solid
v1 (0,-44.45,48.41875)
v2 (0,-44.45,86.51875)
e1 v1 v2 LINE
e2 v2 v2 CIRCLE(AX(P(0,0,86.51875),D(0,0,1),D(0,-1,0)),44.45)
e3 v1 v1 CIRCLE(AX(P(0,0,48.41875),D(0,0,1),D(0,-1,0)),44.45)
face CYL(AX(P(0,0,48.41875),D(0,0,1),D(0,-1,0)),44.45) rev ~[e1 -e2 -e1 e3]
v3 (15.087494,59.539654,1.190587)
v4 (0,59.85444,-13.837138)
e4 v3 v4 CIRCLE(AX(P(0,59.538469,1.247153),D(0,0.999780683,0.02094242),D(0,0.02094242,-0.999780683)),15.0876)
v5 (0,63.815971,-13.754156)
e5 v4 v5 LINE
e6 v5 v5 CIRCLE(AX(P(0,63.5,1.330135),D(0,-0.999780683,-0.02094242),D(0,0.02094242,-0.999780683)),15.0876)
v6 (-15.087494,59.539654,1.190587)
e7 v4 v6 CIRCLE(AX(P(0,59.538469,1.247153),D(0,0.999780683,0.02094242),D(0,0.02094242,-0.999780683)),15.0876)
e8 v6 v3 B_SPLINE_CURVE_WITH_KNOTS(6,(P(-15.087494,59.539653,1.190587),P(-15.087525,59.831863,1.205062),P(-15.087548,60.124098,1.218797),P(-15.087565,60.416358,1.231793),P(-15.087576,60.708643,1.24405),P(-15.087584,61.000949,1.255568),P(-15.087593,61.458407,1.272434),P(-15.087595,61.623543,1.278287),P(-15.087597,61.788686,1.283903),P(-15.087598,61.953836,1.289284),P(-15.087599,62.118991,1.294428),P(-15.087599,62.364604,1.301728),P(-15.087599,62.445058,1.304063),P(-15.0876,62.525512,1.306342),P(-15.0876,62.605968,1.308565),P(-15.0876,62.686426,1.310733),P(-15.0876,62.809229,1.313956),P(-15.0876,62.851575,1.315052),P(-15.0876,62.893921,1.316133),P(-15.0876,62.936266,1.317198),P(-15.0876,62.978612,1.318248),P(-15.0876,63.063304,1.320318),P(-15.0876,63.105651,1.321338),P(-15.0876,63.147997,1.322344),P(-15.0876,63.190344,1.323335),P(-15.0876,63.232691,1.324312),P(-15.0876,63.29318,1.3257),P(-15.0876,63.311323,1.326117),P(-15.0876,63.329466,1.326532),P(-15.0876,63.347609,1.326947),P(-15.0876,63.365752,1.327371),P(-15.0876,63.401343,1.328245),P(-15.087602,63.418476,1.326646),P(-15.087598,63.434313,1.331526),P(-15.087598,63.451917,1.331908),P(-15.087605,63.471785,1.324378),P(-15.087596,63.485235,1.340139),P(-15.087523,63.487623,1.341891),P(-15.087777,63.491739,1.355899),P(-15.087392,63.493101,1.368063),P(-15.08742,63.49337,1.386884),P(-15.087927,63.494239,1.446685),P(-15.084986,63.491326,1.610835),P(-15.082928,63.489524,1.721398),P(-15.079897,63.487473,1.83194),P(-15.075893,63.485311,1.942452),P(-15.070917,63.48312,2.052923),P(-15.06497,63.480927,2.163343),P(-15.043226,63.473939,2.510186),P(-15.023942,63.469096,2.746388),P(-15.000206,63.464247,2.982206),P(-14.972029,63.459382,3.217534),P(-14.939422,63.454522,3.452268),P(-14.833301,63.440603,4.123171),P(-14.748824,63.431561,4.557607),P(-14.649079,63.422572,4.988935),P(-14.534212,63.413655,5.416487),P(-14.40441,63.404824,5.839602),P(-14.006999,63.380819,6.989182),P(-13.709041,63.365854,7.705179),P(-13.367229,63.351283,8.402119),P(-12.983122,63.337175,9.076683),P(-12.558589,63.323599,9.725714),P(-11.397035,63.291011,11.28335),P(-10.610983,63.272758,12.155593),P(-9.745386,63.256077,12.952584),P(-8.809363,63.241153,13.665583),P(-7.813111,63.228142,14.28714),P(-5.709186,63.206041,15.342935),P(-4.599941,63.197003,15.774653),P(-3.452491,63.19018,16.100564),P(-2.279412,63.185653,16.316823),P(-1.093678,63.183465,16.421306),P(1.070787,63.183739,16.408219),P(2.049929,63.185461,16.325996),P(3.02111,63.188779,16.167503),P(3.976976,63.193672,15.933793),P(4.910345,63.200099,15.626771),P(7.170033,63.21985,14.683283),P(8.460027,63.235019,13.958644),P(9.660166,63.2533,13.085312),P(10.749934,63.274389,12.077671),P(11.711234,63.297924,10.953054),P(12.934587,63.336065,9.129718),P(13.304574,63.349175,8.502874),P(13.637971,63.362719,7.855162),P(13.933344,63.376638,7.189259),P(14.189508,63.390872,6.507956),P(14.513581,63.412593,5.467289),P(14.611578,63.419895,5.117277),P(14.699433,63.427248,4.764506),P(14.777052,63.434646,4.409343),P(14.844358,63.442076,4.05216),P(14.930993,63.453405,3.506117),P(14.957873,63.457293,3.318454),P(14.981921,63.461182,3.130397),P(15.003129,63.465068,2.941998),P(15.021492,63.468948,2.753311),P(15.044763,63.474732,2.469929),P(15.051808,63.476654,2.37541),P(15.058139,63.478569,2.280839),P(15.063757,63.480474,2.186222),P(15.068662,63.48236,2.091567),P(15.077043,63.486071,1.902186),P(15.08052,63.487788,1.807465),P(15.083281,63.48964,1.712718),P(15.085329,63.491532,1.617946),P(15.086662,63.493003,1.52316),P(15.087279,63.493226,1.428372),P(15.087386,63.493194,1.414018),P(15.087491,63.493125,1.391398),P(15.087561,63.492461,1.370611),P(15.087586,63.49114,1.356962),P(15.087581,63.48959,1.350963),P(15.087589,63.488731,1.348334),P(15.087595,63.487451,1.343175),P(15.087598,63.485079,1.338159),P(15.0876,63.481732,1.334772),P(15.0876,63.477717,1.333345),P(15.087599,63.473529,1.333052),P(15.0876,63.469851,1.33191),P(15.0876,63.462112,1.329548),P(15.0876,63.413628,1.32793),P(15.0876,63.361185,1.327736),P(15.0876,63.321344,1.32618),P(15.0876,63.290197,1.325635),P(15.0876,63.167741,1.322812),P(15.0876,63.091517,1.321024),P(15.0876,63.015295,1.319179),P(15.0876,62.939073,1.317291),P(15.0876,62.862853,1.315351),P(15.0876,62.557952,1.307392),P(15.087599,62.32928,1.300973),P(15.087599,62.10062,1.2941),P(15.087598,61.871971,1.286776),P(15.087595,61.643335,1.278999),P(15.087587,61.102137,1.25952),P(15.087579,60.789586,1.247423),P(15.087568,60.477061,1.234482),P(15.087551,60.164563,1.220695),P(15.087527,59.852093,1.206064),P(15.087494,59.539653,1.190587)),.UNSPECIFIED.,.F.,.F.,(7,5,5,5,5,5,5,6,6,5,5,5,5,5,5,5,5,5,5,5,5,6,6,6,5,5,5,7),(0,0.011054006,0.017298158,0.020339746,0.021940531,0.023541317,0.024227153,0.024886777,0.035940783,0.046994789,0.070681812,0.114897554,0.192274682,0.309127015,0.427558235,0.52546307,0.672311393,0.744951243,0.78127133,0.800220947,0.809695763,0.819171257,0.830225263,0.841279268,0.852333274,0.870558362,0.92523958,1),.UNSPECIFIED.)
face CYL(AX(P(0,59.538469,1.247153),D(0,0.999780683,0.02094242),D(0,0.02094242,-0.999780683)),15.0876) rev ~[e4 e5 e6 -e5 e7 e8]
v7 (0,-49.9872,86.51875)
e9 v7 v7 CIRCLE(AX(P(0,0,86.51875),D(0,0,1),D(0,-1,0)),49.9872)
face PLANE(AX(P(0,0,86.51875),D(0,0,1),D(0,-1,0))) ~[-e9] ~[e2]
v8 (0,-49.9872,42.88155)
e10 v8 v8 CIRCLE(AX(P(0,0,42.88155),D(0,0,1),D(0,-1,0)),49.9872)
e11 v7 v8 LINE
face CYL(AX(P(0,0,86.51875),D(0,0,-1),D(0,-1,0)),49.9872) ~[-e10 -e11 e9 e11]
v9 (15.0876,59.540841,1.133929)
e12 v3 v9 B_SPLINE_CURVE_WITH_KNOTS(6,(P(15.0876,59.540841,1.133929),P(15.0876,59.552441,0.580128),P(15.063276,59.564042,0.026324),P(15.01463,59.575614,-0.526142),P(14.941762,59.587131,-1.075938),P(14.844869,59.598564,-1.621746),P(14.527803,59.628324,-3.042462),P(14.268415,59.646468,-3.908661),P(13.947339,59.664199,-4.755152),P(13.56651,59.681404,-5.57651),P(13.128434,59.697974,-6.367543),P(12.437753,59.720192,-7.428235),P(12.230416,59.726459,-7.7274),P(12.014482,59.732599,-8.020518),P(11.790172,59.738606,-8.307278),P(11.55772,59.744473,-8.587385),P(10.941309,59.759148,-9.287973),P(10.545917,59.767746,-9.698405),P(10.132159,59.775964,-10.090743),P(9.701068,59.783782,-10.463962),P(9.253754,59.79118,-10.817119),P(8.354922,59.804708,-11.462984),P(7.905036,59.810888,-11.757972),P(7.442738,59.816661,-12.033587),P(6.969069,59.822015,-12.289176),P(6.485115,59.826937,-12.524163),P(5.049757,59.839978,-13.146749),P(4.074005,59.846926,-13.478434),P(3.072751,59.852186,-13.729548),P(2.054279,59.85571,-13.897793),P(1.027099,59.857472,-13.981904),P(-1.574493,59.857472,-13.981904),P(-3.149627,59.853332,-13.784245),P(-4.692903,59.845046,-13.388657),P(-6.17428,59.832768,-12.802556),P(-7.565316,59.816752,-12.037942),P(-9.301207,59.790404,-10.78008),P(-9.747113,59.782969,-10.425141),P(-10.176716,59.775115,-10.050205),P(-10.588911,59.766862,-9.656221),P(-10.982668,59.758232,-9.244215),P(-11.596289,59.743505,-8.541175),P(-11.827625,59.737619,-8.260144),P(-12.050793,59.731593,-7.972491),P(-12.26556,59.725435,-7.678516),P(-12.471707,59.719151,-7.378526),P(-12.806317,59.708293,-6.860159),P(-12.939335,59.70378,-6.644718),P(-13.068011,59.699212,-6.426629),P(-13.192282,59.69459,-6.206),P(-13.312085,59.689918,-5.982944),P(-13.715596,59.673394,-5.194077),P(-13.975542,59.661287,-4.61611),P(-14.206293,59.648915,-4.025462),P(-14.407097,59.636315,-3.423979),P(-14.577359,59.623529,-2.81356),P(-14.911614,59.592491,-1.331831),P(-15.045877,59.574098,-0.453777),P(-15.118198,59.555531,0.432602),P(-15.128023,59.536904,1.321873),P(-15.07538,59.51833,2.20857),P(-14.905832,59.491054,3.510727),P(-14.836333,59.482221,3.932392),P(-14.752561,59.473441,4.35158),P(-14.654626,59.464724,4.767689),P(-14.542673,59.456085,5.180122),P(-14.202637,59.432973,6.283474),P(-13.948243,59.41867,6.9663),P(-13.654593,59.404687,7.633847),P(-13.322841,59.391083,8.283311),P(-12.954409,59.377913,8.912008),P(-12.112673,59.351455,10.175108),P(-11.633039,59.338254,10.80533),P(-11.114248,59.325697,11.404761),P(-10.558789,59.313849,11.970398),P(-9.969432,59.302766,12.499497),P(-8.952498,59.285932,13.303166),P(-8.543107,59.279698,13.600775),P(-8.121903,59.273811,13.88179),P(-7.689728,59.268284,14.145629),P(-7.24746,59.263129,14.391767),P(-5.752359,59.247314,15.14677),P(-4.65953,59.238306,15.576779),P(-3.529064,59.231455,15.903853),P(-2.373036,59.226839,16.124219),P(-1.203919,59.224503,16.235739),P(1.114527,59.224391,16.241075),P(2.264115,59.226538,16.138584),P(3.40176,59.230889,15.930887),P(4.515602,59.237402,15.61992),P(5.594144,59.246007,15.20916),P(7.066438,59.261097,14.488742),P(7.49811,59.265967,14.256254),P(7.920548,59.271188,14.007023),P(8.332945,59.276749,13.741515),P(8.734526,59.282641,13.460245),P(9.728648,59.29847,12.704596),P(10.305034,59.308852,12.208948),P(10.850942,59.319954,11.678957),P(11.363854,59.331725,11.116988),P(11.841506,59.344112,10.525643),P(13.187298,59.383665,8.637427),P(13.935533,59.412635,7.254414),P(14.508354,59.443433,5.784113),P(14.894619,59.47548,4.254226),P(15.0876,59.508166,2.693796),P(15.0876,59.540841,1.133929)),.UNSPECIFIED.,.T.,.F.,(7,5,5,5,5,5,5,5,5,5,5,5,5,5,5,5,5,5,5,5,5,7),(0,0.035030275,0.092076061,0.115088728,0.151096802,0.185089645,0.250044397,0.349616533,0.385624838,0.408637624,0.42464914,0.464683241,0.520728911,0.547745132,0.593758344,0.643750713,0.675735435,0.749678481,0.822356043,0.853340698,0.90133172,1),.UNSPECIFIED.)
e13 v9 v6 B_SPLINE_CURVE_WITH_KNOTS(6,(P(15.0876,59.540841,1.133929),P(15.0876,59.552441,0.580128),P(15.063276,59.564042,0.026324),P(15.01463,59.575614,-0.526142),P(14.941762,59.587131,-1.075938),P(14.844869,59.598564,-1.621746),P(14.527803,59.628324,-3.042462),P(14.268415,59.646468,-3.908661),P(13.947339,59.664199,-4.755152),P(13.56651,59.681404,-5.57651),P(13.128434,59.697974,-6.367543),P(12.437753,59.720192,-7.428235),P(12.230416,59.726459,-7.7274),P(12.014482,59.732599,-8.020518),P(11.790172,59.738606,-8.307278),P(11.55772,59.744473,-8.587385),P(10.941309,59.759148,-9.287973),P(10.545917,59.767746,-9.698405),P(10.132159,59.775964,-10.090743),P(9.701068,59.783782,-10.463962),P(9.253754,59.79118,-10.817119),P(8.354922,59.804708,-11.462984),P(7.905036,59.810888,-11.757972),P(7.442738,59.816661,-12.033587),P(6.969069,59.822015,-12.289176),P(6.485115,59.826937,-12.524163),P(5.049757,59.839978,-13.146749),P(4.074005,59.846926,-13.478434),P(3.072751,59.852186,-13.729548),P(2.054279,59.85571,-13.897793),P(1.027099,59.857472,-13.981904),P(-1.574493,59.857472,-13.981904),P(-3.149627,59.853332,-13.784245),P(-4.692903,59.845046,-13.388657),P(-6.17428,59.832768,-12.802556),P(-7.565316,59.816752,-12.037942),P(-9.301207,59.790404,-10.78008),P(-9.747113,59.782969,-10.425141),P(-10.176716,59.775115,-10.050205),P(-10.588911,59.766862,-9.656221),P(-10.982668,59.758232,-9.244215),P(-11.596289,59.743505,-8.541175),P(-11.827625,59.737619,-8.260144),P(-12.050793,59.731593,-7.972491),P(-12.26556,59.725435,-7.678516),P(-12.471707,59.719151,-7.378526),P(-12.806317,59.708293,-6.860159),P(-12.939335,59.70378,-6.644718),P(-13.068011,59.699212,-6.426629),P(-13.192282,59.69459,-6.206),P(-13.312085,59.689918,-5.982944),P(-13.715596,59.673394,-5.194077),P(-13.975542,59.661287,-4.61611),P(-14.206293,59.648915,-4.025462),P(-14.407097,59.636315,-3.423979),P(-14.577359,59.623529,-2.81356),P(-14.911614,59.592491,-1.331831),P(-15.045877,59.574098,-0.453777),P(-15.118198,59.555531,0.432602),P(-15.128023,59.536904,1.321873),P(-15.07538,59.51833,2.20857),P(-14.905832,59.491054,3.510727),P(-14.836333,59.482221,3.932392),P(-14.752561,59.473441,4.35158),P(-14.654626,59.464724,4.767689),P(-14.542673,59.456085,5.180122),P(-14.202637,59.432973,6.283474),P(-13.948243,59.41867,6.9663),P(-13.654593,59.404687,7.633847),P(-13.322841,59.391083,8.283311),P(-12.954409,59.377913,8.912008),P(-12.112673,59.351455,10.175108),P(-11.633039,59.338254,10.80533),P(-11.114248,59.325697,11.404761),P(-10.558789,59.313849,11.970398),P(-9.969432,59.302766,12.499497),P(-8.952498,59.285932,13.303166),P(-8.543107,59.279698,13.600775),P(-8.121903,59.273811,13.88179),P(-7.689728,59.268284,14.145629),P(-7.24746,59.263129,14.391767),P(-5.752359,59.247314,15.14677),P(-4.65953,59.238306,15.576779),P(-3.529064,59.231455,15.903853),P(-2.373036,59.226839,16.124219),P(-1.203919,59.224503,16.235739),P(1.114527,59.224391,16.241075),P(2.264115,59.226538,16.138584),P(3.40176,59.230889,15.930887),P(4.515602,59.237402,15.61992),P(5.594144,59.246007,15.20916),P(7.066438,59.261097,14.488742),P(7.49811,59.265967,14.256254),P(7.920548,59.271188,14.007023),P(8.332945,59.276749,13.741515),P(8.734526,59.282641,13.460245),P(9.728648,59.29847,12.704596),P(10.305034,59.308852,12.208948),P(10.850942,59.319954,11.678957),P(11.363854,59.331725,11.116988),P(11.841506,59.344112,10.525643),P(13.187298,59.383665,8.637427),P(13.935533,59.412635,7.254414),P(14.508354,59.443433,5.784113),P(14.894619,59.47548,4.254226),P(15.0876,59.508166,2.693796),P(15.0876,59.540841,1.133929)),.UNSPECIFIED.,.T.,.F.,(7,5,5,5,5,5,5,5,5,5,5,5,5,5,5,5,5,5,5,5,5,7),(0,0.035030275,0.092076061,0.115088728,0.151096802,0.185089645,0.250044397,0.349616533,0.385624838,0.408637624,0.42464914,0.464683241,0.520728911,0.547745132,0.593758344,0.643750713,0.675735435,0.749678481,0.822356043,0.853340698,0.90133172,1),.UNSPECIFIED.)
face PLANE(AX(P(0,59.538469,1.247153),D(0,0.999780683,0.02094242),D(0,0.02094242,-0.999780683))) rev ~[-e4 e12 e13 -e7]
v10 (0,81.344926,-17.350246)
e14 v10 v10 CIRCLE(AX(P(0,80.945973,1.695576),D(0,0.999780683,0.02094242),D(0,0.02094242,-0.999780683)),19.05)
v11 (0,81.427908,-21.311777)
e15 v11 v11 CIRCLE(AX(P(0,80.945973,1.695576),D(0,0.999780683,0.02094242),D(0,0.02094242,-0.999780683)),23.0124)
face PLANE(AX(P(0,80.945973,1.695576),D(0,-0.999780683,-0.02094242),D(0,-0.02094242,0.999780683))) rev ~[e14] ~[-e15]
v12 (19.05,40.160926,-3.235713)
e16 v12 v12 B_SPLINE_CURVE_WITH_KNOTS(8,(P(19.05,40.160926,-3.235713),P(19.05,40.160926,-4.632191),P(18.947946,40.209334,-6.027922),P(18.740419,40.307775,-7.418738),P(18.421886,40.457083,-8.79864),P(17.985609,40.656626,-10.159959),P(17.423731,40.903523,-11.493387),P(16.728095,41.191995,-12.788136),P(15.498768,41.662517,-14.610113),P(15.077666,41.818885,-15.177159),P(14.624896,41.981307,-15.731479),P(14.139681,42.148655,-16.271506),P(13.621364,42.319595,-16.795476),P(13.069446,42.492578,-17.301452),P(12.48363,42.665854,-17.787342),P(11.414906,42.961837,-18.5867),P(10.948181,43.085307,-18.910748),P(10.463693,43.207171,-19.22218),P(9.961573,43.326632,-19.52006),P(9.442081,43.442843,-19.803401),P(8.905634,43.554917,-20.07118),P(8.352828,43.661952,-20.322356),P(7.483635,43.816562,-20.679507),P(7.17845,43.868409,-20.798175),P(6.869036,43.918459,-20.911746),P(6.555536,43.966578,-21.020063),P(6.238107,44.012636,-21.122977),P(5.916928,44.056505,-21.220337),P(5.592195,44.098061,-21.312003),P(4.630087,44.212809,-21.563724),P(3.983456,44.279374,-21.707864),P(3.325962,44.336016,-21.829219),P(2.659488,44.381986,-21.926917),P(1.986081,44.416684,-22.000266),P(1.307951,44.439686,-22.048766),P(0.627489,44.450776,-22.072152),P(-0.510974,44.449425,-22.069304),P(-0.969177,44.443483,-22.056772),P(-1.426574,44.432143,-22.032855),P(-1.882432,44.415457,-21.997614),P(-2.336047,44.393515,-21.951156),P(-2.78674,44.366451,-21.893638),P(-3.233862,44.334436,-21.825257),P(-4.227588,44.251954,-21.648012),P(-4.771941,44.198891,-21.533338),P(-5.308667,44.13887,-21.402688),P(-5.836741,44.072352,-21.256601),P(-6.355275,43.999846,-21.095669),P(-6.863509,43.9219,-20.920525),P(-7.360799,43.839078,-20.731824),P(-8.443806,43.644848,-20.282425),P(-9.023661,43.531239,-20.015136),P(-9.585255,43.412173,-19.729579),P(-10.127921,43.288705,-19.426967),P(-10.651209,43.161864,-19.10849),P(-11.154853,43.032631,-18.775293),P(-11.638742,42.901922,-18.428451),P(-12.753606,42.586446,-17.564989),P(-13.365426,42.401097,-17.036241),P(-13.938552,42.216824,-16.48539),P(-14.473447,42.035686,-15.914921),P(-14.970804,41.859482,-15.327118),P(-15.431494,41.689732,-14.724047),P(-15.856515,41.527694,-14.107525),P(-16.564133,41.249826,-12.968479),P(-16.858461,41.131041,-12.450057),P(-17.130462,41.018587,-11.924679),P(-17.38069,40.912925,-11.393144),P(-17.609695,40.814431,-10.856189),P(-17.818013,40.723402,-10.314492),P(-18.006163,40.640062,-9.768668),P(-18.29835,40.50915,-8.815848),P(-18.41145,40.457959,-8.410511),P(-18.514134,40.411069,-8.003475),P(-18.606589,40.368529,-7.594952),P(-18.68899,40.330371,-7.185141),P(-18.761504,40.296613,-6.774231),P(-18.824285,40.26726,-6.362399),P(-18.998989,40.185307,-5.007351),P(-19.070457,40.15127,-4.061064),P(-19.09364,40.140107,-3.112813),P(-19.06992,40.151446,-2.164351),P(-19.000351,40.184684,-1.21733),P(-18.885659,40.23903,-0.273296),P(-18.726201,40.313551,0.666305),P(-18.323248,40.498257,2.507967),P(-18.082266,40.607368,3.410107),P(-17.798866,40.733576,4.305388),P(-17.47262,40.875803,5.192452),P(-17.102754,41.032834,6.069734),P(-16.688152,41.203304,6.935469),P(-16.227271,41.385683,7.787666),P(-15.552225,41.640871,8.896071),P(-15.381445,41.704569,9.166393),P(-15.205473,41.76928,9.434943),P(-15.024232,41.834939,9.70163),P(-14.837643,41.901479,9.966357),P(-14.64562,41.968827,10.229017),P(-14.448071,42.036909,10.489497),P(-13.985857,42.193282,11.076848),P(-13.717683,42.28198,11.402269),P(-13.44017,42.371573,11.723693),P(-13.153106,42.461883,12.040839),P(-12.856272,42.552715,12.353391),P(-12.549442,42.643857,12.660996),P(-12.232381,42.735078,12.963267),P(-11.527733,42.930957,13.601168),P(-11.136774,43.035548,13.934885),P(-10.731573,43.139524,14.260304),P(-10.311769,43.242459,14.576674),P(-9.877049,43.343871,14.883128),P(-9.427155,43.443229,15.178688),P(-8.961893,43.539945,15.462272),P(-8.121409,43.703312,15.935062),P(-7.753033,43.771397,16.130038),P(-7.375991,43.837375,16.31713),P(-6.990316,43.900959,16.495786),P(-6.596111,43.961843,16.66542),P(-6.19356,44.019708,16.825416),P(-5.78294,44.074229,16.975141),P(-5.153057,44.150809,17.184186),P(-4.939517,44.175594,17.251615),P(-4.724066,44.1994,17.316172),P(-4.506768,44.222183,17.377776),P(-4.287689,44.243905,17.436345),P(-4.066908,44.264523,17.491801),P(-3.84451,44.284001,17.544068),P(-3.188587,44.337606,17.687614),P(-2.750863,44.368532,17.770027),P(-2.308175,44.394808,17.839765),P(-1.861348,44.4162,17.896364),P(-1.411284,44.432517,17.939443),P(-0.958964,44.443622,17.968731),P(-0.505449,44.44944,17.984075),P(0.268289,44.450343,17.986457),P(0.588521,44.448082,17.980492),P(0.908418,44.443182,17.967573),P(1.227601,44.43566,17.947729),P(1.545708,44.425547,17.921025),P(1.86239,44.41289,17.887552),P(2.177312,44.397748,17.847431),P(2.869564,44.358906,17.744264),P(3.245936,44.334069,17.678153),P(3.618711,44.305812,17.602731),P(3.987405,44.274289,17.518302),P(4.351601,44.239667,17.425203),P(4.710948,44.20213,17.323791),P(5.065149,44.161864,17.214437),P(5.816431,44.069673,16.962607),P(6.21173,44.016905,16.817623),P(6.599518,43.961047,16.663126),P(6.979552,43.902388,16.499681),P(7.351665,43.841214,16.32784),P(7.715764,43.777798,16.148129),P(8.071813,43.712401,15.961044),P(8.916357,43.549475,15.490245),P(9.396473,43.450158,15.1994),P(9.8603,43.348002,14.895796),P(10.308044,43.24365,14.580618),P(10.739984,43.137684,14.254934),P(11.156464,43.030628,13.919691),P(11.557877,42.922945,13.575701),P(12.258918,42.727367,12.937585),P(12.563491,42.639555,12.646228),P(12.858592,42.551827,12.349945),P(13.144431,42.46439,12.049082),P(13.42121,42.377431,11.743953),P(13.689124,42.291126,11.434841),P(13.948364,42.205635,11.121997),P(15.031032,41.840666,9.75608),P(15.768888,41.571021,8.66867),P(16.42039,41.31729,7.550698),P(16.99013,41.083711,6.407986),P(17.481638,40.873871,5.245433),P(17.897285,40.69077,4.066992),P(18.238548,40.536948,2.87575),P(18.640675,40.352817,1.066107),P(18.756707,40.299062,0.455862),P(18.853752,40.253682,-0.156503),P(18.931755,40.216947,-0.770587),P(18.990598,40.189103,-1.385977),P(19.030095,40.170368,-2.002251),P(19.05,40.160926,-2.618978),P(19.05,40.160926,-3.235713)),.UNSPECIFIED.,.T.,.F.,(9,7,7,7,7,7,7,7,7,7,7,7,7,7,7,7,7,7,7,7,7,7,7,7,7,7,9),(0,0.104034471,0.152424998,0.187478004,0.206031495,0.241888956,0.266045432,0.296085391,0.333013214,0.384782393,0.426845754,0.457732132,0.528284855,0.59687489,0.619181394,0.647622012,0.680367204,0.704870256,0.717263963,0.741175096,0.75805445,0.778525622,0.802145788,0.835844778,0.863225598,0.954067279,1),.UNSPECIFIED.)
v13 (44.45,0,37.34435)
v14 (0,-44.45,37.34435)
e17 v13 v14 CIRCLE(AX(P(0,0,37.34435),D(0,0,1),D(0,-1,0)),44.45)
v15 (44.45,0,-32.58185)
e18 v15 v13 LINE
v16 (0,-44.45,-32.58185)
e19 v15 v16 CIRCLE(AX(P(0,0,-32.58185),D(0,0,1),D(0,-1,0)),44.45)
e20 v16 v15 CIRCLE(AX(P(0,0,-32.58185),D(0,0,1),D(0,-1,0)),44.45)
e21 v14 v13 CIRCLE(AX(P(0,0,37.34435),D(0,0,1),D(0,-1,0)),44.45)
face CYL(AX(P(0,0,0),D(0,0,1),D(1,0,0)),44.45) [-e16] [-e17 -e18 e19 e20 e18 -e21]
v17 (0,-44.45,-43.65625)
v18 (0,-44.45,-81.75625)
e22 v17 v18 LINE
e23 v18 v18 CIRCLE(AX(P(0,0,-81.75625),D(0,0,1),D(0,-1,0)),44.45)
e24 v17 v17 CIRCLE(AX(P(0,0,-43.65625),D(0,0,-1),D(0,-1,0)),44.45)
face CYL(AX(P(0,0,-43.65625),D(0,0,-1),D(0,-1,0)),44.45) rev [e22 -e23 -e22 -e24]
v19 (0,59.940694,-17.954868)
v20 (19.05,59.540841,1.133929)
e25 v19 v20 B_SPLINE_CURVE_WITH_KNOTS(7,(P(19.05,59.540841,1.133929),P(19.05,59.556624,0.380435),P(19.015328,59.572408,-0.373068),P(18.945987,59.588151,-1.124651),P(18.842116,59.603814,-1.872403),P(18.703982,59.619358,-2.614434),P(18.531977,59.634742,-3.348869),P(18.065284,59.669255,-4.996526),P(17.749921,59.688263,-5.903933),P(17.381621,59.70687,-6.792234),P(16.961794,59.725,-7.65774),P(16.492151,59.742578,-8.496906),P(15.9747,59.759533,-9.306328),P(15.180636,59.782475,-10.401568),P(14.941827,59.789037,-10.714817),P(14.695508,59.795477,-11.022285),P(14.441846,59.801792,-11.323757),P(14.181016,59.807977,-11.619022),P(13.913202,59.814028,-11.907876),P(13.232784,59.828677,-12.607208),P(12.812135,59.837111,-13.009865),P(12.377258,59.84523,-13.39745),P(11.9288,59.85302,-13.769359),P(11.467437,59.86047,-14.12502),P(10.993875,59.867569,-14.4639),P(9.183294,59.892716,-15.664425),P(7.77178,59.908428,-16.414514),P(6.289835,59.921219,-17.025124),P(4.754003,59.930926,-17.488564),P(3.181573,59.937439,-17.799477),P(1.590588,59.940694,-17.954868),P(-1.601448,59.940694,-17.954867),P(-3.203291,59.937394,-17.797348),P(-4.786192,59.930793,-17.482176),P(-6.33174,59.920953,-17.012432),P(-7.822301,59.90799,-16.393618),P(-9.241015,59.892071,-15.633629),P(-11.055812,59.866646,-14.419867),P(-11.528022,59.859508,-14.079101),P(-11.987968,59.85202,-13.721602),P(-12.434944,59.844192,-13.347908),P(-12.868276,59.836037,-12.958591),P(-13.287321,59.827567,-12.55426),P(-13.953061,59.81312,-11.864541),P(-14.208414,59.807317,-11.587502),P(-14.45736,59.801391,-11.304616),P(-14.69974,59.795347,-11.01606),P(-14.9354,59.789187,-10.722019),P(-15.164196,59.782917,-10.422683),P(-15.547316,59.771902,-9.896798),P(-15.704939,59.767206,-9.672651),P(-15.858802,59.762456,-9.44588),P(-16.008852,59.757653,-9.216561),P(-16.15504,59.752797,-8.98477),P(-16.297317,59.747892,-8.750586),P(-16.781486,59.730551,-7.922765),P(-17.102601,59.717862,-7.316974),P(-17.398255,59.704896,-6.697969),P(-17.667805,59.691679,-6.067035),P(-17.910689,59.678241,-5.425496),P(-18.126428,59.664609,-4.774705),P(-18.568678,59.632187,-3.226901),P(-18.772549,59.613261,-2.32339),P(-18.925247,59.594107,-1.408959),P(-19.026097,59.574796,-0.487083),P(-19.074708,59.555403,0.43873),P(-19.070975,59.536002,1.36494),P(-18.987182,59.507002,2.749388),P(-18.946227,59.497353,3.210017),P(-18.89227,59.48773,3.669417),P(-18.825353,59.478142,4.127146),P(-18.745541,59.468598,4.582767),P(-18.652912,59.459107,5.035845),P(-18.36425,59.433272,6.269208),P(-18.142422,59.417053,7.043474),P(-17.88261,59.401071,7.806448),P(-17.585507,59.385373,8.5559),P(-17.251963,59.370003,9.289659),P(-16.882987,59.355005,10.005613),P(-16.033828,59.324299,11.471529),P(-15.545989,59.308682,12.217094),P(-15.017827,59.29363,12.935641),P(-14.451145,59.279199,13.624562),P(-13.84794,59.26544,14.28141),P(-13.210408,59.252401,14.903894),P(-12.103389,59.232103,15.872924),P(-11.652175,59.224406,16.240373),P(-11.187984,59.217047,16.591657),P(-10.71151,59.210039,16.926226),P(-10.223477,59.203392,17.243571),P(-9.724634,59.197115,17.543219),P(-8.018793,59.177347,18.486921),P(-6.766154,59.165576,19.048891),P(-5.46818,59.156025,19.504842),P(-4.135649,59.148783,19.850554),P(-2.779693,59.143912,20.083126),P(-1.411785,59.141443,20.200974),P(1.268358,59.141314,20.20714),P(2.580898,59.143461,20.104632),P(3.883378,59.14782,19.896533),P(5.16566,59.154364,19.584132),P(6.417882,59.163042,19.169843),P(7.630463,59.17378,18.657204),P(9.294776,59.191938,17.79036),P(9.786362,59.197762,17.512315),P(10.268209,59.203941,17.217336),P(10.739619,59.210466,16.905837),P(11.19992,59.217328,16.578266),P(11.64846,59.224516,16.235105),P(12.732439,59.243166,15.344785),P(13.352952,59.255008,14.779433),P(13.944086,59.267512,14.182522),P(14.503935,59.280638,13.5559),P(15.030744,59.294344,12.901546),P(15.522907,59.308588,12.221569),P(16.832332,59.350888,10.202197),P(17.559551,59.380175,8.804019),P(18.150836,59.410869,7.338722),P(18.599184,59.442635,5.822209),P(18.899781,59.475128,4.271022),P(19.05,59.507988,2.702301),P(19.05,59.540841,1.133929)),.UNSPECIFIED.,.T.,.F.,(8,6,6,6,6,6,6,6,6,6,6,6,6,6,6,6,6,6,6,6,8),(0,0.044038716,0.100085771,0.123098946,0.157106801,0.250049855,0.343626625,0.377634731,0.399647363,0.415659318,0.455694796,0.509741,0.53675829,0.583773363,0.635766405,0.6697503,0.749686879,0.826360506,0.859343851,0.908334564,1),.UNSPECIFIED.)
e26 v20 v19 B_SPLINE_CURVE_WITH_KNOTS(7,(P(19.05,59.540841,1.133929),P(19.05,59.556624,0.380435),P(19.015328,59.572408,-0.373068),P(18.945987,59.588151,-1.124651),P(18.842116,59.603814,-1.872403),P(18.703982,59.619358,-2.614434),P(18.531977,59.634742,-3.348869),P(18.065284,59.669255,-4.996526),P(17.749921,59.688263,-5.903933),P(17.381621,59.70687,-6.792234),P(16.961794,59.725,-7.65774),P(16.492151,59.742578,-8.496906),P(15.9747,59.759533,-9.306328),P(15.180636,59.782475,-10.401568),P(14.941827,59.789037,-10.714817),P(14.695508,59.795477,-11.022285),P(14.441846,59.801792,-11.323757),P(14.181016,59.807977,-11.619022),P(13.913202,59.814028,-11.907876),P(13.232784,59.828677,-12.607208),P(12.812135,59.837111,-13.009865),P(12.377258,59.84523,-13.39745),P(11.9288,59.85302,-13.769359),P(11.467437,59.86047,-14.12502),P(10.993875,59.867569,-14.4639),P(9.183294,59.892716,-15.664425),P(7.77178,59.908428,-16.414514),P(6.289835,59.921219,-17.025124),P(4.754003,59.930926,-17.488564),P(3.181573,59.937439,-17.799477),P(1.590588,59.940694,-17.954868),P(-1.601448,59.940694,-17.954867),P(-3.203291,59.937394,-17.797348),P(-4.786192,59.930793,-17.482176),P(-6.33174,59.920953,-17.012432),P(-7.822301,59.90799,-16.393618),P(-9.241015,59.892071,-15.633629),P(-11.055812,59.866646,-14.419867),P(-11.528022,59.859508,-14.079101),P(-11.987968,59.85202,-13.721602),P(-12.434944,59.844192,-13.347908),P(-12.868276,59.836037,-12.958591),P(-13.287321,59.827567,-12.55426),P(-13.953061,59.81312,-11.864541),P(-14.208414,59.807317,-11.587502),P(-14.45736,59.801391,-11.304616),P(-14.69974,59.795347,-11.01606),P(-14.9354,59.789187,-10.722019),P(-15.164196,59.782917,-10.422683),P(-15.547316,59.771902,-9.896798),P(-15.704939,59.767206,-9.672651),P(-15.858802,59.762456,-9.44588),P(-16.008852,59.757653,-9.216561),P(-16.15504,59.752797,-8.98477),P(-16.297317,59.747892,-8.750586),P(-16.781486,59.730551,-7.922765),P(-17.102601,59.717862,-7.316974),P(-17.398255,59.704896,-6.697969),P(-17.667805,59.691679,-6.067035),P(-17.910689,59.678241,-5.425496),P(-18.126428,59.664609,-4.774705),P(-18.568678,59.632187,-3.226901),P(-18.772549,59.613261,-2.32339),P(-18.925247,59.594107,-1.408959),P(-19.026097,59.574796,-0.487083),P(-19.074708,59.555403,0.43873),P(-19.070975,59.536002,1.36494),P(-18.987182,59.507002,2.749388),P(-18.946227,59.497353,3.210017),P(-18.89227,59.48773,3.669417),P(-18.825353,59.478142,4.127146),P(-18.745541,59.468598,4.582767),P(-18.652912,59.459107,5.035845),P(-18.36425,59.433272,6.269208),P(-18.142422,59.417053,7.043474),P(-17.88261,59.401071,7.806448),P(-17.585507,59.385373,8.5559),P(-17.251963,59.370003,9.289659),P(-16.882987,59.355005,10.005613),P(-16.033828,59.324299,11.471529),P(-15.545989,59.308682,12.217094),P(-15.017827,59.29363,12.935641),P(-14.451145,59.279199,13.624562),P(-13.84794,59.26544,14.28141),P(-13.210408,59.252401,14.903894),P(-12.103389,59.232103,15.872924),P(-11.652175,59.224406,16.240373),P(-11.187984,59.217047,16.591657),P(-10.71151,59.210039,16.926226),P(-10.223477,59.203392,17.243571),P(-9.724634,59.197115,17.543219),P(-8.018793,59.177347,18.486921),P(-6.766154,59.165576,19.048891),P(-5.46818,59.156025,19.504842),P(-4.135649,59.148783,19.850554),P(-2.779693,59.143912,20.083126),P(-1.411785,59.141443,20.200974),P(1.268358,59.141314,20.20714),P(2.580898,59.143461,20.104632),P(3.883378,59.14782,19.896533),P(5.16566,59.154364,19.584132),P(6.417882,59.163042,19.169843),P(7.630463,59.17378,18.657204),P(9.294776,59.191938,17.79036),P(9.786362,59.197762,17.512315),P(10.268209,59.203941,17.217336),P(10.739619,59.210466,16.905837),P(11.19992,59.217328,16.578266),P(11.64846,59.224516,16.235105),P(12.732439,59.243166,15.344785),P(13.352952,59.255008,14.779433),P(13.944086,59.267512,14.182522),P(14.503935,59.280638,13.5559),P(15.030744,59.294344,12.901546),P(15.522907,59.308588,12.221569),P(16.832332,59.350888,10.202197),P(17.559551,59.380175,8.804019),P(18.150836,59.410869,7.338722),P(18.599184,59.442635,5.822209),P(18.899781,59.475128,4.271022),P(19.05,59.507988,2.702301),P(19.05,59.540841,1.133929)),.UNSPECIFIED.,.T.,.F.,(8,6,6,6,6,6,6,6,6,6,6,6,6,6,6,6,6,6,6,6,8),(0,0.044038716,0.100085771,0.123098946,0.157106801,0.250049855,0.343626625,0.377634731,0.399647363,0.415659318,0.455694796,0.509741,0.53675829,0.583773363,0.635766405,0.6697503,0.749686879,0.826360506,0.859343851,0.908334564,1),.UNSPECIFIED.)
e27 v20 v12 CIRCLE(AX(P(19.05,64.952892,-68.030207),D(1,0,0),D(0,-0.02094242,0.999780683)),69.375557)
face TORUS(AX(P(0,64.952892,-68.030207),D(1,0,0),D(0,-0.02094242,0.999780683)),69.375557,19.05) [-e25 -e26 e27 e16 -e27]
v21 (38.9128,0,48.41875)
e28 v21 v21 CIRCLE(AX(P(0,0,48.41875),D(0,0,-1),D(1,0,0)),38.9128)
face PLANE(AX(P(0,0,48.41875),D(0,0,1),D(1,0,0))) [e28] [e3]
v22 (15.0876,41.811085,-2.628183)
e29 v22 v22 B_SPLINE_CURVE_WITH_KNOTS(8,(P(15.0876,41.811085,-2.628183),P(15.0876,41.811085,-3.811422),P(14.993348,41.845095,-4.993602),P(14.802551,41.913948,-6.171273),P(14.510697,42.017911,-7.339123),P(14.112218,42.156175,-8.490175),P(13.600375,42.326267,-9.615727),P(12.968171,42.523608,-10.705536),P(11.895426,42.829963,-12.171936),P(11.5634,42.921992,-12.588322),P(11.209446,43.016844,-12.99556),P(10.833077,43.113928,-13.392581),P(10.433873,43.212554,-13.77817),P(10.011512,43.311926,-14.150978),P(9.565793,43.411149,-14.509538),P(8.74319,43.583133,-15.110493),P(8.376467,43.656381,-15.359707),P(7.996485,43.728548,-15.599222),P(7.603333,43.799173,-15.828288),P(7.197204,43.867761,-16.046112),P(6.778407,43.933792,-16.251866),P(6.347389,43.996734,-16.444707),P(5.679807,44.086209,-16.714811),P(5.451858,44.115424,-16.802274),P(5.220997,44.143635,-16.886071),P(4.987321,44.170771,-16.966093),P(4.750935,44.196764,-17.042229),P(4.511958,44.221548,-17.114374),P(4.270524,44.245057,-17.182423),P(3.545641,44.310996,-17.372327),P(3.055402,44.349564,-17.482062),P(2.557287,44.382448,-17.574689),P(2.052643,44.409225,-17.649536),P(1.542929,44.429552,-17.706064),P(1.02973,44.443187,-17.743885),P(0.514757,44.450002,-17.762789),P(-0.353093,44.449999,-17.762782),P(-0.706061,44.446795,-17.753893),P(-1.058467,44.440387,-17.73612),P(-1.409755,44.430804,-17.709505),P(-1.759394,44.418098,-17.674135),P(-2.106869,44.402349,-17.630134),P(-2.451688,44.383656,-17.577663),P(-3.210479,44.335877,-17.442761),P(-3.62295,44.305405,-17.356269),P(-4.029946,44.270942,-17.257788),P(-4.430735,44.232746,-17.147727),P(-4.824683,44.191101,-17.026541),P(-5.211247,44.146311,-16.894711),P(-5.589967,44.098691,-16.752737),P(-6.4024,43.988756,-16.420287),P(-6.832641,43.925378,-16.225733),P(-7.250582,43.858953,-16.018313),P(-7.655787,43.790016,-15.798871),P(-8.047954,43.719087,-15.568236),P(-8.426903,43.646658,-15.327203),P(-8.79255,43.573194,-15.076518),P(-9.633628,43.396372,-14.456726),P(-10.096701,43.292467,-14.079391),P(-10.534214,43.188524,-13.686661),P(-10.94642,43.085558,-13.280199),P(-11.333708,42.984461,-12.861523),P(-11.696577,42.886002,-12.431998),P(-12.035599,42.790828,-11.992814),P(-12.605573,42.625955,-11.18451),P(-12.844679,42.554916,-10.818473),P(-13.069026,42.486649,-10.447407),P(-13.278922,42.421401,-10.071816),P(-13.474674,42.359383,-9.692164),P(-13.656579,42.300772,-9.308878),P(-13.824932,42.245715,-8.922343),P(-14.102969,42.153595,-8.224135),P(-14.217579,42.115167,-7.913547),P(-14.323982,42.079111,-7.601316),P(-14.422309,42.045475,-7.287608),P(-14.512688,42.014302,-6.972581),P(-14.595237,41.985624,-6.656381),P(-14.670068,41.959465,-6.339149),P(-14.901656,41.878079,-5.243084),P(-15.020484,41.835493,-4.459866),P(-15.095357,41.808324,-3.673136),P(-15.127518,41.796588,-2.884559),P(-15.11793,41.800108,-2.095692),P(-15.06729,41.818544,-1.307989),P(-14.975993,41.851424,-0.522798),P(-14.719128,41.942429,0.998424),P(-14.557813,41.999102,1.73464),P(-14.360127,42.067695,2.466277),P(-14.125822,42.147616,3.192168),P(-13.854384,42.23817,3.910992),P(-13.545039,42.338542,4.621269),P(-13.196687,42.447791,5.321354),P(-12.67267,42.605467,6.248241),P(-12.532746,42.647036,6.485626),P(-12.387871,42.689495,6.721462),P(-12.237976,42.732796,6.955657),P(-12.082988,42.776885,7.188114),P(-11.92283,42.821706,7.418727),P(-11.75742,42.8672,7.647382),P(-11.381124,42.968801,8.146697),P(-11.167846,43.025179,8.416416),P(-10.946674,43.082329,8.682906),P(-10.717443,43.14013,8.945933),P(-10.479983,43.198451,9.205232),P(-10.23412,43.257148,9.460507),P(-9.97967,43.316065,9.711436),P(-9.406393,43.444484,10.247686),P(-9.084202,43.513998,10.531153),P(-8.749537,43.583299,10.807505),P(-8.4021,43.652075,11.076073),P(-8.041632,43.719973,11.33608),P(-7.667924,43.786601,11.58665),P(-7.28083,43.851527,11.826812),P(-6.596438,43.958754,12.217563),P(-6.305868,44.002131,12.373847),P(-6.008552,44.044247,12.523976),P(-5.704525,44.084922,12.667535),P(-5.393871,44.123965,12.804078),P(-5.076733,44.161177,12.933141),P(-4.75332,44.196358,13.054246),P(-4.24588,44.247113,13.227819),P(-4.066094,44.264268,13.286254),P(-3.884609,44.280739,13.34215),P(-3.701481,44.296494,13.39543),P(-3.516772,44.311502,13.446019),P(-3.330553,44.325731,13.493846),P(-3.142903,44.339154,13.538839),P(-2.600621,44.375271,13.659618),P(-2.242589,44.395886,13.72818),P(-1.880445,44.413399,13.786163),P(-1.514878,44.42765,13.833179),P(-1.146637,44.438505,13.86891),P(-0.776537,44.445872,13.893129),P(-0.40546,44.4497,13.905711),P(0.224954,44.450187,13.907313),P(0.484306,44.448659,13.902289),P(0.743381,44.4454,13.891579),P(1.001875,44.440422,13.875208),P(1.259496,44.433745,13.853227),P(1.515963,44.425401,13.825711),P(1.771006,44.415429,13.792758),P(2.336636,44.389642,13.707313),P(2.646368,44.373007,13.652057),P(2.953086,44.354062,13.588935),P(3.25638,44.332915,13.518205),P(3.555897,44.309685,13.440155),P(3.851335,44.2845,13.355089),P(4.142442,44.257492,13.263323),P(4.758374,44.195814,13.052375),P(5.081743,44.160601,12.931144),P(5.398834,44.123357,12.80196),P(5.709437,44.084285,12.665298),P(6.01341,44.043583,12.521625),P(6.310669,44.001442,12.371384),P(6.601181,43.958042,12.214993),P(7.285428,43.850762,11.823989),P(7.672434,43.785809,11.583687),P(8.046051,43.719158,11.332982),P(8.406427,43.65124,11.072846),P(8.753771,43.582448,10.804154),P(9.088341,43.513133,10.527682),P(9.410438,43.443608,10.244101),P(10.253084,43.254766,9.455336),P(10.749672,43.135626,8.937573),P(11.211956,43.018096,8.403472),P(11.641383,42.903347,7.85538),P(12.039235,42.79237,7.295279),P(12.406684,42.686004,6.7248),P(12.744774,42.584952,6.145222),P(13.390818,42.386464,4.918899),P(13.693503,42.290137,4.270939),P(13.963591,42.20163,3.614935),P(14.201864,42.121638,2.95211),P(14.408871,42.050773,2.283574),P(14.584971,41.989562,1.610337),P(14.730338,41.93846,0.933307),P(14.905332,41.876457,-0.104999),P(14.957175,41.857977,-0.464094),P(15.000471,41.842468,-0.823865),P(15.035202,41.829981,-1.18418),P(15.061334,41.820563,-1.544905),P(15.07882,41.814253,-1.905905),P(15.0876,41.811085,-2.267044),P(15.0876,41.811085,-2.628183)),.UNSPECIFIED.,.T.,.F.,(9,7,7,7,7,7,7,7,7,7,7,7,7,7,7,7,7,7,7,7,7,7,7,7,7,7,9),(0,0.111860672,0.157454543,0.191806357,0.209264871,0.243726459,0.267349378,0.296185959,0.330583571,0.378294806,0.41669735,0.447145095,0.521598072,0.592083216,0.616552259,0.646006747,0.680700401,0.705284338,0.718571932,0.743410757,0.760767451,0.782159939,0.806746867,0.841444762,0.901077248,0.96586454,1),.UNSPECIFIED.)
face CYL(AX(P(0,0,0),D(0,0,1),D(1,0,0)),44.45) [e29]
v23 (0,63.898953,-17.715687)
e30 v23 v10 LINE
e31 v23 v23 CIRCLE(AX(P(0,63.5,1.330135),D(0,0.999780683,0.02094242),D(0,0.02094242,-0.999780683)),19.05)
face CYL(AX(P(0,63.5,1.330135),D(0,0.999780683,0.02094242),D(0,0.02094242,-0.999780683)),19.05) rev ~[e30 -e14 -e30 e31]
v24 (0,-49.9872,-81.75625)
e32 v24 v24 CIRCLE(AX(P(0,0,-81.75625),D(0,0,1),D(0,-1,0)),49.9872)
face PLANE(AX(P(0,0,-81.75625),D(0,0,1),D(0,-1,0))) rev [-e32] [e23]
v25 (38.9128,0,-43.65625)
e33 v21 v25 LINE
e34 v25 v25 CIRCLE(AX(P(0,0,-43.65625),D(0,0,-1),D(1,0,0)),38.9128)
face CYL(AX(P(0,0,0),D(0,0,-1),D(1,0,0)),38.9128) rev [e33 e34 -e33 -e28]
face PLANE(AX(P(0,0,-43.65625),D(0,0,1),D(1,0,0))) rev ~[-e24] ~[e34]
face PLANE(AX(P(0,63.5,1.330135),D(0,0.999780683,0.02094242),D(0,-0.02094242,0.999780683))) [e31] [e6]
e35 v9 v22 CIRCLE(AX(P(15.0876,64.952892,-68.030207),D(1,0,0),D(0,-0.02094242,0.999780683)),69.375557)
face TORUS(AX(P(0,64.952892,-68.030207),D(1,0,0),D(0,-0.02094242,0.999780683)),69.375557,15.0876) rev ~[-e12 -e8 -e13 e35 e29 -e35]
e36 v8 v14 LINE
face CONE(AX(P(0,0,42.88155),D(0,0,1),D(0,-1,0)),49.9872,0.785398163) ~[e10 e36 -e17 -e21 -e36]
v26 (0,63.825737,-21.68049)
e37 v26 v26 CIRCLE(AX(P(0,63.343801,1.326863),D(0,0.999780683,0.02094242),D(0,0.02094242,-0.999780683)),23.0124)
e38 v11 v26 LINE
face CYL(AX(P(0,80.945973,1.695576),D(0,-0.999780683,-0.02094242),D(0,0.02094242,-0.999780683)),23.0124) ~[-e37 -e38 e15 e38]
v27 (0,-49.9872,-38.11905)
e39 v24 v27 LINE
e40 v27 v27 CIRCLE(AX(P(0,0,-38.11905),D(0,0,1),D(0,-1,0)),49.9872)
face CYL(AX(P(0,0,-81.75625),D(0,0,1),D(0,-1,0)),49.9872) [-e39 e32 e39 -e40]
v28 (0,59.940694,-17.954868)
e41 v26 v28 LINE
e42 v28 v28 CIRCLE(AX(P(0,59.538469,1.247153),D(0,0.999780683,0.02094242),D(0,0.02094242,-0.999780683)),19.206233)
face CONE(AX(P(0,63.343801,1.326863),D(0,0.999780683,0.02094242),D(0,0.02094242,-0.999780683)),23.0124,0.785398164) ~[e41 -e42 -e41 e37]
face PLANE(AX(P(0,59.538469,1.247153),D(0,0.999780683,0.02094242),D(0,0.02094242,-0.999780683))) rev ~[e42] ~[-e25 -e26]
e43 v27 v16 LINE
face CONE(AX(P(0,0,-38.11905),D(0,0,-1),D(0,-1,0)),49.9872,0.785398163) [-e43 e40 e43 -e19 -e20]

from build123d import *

# Parameters (mm, degrees)
RUNROUTE_R               = 44.45
RUNROUTE_R_2             = 38.9128
BOSS_EXTRUDE1_DEPTH      = 48.41875
BOSS_EXTRUDE1_DEPTH_BACK = 43.65625
OUTLETROUTE_R            = 19.05
OUTLETROUTE_R_2          = 15.0876
RUNROUTE_2_R             = 38.9128
CUT_EXTRUDE1_DEPTH       = 49.4187501
CUT_EXTRUDE1_DEPTH_BACK  = 51.349153098


with BuildPart() as part:
    # RunRoute → Boss-Extrude1 (new body, two sides)
    with BuildSketch(Plane.XY) as boss_extrude1_sk:
        Circle(RUNROUTE_R)
        Circle(RUNROUTE_R_2, mode=Mode.SUBTRACT)
    extrude(amount=BOSS_EXTRUDE1_DEPTH)
    extrude(boss_extrude1_sk.sketch, amount=-BOSS_EXTRUDE1_DEPTH_BACK)

    # Sweep1: sweep along a path in Sketch2
    with BuildLine(Plane(origin=(0, 0, 0), x_dir=(0, 0, -1), z_dir=(1, 0, 0))) as sweep1_path:
        ThreePointArc((-1.330135383, 63.5), (11.421089133, 24.848331737), (43.65625, 0))
    # OutletRoute → Sweep1 (sweep)
    with BuildSketch(Plane(origin=(0, 63.5, 1.330135383), x_dir=(1, 0, 0), z_dir=(0, 0.999780683, 0.02094242))):
        Circle(OUTLETROUTE_R)
        Circle(OUTLETROUTE_R_2, mode=Mode.SUBTRACT)
    sweep(path=sweep1_path.line)

    # RunRoute<2> → Cut-Extrude1 (cut, two sides)
    with BuildSketch(Plane.XY) as cut_extrude1_sk:
        Circle(RUNROUTE_2_R)
    extrude(amount=CUT_EXTRUDE1_DEPTH, mode=Mode.SUBTRACT)
    extrude(cut_extrude1_sk.sketch, amount=-CUT_EXTRUDE1_DEPTH_BACK, mode=Mode.SUBTRACT)

    # Sketch3 → Revolve1 (revolve)
    with BuildSketch(Plane(origin=(0, 0, 0), x_dir=(0, 0, -1), z_dir=(1, 0, 0))):
        Polygon((13.754155657, 63.815970854), (17.715686637, 63.898953099), (17.350245598, 81.344926069), (21.311776579, 81.427908314), (21.680489514, 63.825736638), (17.954867586, 59.940694015), (13.837137901, 59.854439874), align=None)
    revolve(axis=Axis((0, 63.5, 1.330135383), (0, 0.999780683, 0.02094242)))

    # Sketch3<5> → Revolve2 (revolve)
    with BuildSketch(Plane(origin=(0, 0, 0), x_dir=(0, 0, -1), z_dir=(1, 0, 0))):
        Polygon((-48.41875, -38.9128), (-48.41875, -44.45), (-86.51875, -44.45), (-86.51875, -49.9872), (-42.88155, -49.9872), (-37.34435, -44.45), (-37.34435, -38.9128), align=None)
        Polygon((43.65625, -38.9128), (43.65625, -44.45), (81.75625, -44.45), (81.75625, -49.9872), (38.11905, -49.9872), (32.58185, -44.45), (32.58185, -38.9128), align=None)
    revolve(axis=Axis((0, 0, 48.41875), (0, 0, 1)))


solid = part.part
